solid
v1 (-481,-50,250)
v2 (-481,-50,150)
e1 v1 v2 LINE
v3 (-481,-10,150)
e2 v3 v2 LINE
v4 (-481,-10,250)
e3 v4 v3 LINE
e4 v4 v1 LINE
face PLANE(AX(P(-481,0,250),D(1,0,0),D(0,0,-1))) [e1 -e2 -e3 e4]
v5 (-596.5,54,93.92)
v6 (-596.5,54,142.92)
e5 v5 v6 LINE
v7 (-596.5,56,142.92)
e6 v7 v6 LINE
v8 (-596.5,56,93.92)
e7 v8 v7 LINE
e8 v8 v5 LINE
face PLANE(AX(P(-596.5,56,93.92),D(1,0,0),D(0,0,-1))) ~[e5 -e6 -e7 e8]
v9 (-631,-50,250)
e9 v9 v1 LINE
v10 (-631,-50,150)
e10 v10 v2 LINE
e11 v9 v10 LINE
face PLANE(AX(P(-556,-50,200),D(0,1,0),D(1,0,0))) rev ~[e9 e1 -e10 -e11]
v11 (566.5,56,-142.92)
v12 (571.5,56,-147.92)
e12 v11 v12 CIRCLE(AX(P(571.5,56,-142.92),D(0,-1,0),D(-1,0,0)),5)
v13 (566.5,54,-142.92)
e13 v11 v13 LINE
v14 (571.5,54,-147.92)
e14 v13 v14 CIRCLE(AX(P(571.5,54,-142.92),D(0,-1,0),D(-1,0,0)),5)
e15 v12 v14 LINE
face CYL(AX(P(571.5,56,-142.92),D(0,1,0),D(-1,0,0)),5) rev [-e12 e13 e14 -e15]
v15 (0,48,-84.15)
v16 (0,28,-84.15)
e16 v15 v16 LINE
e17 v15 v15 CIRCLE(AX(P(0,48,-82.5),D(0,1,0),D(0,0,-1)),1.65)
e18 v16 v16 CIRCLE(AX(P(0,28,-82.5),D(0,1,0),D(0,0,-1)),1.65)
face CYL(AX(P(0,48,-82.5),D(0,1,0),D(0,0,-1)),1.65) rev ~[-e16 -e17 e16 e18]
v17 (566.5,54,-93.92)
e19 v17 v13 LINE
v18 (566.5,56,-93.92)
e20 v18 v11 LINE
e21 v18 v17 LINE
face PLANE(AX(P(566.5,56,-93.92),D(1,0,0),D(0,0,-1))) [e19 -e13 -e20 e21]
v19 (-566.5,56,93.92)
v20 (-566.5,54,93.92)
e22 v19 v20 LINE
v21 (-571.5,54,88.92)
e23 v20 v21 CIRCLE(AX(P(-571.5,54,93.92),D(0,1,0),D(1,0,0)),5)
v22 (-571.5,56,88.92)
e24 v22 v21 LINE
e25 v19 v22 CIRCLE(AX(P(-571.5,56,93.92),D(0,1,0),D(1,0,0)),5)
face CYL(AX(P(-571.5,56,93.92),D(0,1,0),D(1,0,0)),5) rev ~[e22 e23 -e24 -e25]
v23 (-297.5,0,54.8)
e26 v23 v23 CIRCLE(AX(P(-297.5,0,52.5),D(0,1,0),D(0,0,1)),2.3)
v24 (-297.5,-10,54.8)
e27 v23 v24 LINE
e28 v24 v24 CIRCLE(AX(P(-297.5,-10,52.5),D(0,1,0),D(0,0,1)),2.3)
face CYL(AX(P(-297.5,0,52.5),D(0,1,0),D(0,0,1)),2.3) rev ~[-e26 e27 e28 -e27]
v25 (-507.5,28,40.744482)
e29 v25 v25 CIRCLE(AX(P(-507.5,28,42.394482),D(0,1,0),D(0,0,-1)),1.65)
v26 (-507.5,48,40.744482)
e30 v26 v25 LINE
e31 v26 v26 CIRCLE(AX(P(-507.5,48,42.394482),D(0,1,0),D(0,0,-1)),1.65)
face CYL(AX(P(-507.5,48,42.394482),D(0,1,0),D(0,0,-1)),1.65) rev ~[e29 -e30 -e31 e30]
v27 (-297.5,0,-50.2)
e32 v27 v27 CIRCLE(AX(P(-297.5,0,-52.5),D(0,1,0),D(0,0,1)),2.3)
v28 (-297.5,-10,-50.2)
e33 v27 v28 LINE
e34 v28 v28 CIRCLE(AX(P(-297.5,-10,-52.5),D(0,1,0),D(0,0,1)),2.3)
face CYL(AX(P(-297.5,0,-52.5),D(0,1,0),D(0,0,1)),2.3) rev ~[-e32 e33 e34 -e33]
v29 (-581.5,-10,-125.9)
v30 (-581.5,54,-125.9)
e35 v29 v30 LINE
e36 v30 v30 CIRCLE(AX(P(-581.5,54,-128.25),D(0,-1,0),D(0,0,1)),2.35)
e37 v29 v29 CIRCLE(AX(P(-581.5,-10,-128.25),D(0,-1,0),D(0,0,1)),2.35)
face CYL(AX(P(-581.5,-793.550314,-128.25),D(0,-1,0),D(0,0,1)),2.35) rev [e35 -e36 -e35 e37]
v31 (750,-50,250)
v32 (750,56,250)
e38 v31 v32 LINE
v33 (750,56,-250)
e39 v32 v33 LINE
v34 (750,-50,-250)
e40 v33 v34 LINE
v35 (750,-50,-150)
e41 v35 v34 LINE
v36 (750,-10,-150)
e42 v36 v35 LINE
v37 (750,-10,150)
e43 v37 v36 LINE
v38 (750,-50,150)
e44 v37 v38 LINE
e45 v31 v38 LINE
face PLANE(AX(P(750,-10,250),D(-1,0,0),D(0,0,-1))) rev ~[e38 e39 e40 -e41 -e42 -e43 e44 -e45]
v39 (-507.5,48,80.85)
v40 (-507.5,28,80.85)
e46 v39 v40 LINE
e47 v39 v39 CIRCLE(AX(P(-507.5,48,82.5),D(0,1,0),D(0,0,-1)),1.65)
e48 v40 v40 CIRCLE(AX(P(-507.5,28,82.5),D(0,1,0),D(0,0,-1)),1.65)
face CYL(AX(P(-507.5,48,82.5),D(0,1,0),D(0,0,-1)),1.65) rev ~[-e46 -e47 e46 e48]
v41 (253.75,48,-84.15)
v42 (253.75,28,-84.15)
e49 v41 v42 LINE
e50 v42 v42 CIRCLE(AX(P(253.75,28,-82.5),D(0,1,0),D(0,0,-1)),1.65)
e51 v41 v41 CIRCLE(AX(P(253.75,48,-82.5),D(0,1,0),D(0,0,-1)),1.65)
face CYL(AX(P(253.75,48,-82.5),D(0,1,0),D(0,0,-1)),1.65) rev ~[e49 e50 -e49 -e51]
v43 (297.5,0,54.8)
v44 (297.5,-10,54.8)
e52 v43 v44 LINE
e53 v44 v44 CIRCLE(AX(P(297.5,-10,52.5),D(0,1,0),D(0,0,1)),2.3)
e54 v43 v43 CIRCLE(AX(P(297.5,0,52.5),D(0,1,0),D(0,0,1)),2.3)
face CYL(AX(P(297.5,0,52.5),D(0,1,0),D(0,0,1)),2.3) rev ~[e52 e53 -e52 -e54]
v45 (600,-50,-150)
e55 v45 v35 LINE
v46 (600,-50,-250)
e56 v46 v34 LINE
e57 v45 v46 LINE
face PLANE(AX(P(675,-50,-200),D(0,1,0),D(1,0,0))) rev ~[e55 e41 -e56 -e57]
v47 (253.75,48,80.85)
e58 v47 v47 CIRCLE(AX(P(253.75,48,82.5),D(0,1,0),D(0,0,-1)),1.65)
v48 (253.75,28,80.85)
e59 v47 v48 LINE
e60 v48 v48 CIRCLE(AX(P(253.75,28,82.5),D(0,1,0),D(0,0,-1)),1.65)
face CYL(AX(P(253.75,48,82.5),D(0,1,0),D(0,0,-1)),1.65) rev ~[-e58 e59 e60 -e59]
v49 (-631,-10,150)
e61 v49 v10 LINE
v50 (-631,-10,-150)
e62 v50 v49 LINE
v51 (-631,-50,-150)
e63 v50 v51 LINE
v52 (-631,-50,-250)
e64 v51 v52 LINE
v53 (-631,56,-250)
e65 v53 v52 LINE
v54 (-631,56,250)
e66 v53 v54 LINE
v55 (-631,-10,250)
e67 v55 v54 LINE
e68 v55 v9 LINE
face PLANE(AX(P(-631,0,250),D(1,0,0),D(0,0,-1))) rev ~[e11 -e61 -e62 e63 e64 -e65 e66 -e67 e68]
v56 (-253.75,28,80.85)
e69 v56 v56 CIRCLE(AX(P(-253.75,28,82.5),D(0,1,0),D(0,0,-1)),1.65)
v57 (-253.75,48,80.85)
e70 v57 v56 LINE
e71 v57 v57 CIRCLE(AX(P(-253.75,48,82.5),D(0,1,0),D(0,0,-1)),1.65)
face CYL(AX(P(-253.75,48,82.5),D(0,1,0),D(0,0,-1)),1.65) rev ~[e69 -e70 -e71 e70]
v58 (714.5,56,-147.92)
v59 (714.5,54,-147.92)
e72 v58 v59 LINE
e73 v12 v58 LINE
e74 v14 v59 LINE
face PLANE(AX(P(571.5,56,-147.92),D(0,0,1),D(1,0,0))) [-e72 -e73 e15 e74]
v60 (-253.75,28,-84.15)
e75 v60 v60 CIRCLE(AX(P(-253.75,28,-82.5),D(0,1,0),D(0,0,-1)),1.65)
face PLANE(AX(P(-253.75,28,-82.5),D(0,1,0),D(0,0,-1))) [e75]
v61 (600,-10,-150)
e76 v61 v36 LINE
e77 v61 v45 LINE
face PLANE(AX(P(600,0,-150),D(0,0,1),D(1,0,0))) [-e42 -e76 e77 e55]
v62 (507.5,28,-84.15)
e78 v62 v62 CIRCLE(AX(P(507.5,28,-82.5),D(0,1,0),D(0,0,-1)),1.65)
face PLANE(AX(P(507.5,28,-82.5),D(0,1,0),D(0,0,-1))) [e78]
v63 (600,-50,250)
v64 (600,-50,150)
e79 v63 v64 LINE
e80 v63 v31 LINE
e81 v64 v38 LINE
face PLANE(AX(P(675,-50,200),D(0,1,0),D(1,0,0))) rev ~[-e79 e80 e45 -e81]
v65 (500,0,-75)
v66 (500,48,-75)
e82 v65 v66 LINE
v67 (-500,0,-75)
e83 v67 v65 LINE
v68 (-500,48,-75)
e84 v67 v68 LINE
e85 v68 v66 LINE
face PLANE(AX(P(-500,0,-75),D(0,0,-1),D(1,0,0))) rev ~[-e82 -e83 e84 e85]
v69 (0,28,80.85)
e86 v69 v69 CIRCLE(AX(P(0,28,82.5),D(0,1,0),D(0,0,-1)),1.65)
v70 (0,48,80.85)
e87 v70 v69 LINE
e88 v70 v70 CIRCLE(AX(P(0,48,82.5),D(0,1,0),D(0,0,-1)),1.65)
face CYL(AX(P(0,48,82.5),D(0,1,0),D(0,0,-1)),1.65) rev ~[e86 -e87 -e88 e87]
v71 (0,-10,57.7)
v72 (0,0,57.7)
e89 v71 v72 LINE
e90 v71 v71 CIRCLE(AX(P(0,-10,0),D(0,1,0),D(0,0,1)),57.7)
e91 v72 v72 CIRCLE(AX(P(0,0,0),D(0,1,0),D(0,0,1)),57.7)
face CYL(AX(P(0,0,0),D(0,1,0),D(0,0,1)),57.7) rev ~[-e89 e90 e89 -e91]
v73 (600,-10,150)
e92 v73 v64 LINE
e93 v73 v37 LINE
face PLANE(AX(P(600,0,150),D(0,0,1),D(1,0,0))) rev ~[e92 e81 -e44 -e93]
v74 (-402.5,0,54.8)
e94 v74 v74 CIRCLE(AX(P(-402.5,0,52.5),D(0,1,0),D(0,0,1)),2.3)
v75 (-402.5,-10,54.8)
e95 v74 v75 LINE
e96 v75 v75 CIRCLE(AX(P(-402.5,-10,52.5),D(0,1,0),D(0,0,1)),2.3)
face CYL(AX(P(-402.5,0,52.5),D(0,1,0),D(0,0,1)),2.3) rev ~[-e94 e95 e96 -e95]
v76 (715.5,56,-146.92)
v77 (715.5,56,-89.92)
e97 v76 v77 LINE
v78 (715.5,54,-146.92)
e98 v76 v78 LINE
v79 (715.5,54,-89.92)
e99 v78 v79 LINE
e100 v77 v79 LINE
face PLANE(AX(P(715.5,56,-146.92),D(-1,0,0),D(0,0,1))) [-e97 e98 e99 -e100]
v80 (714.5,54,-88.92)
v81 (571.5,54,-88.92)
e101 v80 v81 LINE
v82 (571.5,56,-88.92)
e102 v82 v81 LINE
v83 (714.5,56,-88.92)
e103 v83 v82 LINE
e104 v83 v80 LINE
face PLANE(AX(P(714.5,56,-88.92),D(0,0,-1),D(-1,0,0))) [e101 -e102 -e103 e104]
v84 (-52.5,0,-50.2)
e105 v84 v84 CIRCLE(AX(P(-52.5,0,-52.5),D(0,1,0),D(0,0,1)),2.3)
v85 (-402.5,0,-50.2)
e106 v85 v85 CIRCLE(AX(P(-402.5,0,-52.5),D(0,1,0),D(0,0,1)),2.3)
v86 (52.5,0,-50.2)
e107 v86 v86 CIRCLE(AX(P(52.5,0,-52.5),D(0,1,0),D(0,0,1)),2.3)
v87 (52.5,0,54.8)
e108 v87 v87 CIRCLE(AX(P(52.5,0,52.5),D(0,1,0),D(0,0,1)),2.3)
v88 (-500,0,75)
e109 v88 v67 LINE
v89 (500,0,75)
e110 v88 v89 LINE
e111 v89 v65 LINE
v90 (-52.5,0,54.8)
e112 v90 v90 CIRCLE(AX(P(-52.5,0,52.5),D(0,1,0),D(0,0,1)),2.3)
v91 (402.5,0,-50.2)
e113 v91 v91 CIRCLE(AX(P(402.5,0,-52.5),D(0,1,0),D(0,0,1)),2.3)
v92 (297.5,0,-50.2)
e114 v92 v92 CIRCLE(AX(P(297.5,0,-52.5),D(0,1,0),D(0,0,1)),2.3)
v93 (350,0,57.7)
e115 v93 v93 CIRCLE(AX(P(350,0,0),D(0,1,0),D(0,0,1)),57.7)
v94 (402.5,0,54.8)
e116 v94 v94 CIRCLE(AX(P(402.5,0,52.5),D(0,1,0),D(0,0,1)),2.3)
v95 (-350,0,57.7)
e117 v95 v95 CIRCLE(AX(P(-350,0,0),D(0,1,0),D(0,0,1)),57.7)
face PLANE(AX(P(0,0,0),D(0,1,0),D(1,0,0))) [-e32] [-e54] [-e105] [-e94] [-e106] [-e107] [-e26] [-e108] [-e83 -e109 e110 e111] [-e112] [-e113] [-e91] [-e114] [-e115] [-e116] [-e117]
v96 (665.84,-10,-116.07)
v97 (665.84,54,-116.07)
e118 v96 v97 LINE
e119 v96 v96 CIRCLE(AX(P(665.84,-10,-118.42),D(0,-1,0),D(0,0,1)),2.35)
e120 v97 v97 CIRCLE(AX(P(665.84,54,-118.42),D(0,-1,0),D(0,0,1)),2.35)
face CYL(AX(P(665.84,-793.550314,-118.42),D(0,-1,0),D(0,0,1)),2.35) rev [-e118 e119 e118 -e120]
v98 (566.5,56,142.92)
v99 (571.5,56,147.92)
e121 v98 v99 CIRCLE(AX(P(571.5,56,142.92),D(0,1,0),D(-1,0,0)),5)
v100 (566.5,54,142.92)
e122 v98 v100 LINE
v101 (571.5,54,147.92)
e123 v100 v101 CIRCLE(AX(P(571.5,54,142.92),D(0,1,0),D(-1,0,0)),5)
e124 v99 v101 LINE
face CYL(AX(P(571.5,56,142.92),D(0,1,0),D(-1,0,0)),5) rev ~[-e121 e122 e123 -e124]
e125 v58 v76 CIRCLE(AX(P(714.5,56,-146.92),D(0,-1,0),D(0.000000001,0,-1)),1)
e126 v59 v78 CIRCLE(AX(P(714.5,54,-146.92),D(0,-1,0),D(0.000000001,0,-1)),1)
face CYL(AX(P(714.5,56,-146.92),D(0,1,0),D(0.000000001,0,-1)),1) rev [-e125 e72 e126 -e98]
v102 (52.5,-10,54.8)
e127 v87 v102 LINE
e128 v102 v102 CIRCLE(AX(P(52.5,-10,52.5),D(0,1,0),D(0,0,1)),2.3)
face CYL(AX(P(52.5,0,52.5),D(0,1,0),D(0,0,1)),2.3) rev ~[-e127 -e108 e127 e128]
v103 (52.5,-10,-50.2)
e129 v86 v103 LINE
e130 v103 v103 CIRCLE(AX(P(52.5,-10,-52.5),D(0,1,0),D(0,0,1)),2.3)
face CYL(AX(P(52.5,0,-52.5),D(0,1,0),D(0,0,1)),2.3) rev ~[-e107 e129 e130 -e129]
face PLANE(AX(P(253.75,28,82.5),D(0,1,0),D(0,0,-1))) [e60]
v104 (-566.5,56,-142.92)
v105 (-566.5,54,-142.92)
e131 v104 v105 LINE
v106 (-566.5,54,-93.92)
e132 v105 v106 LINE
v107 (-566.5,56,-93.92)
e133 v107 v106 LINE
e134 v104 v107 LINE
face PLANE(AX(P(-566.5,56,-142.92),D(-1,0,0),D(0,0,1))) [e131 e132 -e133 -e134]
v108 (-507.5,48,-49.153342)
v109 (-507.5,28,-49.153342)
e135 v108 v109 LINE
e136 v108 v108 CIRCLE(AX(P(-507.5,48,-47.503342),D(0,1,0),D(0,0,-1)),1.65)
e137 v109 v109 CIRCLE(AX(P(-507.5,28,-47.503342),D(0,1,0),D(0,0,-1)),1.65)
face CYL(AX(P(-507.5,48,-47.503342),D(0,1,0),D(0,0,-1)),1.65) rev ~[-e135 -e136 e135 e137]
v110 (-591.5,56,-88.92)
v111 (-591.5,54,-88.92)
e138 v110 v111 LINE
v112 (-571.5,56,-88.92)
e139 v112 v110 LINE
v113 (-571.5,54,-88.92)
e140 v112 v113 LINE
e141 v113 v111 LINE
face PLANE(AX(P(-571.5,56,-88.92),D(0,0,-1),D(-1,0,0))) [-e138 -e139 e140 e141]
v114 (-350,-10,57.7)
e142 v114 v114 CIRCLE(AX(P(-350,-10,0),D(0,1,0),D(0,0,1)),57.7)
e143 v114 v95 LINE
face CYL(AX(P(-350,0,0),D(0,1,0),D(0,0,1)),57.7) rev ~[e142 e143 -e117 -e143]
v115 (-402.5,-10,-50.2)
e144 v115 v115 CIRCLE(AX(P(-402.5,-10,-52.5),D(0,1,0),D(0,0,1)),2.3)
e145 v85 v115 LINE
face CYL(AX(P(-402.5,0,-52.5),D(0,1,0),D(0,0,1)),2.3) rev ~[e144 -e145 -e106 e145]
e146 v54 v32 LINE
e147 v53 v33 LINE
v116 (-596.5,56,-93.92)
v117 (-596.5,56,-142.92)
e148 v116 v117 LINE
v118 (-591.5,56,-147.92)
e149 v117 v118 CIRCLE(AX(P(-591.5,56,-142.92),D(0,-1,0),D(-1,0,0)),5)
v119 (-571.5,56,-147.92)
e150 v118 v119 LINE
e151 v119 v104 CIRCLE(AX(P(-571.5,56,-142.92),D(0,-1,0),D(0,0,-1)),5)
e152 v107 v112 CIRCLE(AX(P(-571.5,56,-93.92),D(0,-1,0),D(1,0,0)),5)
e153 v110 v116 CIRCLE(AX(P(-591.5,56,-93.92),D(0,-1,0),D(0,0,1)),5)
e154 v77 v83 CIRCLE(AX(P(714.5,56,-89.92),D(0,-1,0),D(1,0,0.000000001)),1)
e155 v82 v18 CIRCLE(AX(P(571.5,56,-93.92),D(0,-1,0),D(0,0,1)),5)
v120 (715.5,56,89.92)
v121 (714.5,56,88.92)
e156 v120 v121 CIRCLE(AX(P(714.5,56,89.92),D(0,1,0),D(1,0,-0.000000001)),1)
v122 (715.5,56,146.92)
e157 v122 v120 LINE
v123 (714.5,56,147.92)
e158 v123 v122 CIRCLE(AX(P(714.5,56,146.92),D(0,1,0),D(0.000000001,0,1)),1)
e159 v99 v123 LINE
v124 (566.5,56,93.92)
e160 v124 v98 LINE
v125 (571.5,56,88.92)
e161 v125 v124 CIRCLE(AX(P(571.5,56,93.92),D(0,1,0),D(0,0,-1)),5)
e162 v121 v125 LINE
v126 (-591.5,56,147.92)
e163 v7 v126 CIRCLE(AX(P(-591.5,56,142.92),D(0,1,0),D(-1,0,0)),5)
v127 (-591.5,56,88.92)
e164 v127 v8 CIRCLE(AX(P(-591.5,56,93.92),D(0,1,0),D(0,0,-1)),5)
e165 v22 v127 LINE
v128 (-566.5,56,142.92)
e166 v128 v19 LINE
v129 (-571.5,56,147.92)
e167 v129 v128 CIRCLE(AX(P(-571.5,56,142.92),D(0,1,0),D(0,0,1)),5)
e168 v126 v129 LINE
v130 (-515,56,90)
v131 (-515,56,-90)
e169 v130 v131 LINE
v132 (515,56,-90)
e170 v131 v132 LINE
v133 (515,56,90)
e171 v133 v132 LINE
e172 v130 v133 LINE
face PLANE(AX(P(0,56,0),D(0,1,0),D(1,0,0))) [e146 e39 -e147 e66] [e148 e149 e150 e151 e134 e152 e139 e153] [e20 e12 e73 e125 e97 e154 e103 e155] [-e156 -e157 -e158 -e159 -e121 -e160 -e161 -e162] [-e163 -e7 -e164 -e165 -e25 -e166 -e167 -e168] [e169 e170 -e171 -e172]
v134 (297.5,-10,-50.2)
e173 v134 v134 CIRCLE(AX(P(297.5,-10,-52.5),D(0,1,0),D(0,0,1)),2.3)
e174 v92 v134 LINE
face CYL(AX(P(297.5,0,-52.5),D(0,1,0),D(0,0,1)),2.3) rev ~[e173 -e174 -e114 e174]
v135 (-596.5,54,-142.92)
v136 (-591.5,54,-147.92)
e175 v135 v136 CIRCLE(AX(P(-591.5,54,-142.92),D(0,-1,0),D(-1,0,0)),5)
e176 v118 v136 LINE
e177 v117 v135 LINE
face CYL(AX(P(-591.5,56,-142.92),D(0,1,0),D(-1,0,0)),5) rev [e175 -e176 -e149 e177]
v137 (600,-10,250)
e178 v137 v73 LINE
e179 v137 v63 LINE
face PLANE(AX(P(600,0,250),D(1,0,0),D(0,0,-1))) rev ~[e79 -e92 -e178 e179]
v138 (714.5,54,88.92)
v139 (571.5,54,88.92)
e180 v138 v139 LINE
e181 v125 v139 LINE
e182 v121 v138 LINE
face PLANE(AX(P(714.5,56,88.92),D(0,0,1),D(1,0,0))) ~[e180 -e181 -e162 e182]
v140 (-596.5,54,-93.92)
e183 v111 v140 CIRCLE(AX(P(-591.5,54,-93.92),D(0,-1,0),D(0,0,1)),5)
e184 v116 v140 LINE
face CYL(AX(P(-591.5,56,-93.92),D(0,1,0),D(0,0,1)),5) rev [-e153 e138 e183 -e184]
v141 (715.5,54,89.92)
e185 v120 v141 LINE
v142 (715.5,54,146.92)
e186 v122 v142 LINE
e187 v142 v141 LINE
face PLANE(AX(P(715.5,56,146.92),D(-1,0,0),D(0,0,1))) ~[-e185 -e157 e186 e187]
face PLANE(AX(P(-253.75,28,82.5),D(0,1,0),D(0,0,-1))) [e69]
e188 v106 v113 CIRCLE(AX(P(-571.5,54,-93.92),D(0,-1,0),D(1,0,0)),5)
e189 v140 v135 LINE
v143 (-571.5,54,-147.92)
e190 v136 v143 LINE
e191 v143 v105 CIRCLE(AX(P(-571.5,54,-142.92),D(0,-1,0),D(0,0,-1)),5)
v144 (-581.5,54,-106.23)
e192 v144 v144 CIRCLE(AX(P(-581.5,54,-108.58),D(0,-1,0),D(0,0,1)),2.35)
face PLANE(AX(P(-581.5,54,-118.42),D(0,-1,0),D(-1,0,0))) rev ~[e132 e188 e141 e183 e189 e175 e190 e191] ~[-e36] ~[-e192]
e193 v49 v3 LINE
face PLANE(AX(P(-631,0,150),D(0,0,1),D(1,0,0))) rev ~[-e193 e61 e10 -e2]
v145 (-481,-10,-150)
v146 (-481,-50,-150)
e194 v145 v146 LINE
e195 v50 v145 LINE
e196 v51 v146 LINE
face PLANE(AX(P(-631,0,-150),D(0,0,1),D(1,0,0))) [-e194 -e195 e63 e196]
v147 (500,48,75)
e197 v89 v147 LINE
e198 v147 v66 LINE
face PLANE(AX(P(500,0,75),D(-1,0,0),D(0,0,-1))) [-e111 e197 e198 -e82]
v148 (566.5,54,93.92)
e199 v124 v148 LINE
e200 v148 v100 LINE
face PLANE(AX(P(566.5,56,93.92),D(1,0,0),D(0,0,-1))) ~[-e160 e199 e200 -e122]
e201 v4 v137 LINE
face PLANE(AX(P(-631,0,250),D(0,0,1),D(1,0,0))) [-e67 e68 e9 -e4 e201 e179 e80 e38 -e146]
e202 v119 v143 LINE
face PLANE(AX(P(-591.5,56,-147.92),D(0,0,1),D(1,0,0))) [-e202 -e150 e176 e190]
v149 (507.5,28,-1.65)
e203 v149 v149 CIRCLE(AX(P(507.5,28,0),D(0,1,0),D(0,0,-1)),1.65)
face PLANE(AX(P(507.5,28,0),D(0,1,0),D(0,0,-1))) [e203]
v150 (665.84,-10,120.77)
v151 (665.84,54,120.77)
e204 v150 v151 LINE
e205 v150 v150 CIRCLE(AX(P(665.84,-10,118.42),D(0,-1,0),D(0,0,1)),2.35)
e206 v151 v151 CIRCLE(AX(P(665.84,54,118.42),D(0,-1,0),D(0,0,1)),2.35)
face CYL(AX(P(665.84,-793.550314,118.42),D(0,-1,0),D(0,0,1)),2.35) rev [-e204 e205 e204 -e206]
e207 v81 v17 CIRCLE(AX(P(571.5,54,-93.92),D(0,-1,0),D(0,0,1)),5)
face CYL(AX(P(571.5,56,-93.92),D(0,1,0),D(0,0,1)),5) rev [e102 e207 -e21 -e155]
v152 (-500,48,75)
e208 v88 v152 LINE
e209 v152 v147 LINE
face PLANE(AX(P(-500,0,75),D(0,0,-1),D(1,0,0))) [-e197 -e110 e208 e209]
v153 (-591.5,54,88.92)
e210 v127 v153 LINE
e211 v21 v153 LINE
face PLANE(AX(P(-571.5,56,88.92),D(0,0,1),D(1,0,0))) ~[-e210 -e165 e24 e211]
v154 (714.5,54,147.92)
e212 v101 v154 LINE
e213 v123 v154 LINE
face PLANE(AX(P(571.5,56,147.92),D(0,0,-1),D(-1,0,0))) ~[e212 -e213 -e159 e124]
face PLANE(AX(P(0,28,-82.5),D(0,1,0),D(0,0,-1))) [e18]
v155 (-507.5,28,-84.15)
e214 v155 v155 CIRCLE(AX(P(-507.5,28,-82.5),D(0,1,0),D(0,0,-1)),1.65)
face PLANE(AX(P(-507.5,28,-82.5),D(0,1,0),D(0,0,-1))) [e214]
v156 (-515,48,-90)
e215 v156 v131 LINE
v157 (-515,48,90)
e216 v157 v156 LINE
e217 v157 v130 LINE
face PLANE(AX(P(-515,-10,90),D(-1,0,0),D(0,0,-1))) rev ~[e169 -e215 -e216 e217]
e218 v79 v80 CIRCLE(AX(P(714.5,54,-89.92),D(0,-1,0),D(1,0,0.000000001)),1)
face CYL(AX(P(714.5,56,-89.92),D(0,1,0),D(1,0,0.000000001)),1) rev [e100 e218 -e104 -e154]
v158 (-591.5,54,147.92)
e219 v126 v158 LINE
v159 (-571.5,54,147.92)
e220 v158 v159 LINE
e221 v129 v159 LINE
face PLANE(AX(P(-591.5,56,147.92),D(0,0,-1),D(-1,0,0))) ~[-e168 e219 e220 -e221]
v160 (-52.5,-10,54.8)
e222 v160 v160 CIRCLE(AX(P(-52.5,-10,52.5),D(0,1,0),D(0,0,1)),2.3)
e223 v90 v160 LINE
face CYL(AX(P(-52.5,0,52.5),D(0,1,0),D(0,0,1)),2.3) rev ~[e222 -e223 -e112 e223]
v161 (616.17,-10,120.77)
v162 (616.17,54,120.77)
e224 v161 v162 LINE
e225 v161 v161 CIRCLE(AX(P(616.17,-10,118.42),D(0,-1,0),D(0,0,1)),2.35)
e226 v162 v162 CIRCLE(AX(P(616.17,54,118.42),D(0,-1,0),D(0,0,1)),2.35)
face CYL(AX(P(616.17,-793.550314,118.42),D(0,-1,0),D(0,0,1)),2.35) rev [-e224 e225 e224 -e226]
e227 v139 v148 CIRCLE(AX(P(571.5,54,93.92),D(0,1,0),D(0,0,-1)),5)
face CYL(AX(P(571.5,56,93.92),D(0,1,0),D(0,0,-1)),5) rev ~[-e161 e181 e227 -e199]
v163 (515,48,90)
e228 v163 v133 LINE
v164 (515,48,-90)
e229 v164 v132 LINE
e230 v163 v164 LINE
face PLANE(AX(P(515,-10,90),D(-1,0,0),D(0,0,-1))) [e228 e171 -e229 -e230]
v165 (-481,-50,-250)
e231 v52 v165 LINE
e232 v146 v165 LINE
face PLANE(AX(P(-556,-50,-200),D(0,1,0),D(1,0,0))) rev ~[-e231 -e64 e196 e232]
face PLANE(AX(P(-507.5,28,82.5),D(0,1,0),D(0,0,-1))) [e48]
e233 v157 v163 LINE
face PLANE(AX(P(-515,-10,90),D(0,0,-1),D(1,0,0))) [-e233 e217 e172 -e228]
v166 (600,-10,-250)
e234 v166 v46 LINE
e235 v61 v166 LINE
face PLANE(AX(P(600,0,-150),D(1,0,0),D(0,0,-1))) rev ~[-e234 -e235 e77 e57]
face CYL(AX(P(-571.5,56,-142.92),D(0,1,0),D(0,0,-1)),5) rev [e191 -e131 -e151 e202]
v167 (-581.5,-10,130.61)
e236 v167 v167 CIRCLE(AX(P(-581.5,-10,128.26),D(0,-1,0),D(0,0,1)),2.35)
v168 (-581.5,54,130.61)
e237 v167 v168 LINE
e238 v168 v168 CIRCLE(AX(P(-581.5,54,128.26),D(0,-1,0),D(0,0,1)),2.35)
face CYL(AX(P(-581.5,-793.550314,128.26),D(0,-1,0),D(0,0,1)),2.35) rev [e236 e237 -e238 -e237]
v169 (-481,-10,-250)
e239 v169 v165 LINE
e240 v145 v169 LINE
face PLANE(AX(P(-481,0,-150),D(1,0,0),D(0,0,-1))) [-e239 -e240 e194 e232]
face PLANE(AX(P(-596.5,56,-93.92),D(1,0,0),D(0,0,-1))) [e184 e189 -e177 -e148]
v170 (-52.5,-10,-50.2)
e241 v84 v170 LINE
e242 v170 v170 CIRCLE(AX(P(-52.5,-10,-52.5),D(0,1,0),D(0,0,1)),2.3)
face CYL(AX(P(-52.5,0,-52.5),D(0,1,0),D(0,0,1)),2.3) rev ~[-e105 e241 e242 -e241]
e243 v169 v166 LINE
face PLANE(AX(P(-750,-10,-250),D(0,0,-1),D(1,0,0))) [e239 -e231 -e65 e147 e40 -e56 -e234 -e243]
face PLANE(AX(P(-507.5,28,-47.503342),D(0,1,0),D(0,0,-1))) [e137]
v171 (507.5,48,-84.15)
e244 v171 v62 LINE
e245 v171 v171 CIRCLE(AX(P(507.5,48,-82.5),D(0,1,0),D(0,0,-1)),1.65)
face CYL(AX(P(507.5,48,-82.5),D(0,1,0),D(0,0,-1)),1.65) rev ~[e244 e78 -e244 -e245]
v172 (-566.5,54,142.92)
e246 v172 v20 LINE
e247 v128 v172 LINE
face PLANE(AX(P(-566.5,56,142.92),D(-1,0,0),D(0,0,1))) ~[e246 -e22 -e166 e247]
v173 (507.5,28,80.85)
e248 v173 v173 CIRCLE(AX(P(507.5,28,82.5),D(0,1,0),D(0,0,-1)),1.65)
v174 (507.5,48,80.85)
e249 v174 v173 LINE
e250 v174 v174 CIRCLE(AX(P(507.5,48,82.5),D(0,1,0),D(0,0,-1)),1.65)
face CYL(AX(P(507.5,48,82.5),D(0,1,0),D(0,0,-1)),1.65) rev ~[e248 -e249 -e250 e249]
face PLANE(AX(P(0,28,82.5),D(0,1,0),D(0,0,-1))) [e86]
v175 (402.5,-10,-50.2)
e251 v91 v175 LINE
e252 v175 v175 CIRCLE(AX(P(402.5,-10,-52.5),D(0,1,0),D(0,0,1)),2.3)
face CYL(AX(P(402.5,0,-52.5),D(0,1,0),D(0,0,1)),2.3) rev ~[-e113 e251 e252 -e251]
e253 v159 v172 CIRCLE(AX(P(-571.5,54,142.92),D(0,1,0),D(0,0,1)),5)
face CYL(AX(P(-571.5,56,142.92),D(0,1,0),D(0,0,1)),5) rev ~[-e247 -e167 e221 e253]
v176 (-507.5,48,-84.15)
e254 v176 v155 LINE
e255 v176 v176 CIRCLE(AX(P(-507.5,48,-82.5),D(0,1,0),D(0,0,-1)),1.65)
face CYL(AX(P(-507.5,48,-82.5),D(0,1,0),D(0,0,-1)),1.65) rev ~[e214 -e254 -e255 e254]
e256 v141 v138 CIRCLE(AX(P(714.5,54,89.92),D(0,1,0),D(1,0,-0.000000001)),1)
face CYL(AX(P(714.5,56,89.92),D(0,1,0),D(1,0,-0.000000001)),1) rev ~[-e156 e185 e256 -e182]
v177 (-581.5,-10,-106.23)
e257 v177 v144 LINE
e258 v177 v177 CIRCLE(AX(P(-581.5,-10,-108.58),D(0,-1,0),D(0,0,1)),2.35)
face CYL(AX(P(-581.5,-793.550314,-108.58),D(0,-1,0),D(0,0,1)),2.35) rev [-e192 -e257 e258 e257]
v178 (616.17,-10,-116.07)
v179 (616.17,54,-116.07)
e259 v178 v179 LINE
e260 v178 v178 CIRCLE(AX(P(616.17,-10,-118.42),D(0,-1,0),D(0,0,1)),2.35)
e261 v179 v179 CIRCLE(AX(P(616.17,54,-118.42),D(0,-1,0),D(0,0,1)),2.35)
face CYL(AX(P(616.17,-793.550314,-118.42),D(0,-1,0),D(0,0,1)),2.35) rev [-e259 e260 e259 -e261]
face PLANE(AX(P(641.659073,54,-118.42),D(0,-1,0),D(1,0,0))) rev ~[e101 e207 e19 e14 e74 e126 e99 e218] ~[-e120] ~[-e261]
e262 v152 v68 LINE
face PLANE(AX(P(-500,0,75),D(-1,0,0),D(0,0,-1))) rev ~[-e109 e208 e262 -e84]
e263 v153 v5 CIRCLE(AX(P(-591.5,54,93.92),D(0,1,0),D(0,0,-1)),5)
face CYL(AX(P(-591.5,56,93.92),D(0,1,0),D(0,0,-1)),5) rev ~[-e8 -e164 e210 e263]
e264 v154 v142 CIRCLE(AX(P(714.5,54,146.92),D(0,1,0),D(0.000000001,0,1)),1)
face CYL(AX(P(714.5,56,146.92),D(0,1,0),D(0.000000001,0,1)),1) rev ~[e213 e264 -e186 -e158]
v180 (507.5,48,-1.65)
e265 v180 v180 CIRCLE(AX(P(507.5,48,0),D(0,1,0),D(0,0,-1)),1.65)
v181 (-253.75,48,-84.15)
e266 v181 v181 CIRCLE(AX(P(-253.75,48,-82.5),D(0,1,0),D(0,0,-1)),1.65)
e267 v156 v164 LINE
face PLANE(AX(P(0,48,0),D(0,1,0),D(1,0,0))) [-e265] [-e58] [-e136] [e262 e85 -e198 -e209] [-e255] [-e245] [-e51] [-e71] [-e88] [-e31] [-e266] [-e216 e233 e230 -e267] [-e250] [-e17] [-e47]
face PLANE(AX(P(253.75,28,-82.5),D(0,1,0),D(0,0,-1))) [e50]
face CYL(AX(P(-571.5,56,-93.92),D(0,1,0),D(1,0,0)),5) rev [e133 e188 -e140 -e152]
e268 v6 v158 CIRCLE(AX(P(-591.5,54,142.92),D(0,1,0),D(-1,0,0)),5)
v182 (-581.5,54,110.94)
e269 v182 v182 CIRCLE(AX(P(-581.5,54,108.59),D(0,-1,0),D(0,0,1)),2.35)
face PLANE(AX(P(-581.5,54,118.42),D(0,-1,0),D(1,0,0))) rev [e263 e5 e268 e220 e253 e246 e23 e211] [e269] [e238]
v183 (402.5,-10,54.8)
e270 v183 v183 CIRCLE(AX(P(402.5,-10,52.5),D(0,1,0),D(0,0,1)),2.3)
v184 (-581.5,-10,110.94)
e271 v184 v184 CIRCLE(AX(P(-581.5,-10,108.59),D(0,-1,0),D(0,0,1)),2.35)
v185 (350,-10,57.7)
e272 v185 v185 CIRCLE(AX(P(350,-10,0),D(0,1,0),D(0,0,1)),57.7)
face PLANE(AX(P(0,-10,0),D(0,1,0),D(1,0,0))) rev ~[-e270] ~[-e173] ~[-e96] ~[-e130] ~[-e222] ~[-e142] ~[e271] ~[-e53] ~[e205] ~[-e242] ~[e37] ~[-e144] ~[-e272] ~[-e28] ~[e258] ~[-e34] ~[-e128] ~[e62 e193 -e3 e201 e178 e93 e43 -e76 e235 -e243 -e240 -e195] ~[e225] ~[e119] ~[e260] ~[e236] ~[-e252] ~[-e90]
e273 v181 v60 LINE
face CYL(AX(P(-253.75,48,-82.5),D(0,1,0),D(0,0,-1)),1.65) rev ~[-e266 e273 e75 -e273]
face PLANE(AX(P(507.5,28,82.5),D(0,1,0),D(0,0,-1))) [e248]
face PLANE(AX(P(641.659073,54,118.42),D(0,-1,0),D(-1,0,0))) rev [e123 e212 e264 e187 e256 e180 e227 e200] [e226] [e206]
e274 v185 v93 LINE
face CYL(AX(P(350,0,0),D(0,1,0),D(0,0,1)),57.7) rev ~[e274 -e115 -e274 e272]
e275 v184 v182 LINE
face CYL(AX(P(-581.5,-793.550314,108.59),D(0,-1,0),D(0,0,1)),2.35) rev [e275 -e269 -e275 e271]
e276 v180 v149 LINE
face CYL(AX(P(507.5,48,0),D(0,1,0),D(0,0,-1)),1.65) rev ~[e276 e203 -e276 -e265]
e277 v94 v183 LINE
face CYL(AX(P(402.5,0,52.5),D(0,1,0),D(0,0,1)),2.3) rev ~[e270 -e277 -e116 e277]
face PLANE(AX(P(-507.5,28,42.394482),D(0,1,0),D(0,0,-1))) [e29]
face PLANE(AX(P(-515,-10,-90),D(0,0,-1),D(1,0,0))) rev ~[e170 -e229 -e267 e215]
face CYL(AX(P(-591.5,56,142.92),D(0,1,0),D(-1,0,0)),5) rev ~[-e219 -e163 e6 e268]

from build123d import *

# Parameters (mm, degrees)
SKETCH19_W               = 1030
SKETCH19_H               = 180
SKETCH19_W_2             = 1000
SKETCH19_H_2             = 150
BOSS_EXTRUDE2_DEPTH      = 48
SKETCH22_W               = 1030
SKETCH22_H               = 180
BOSS_EXTRUDE3_DEPTH      = 10
BOSS_EXTRUDE4_DEPTH      = 56
BOSS_EXTRUDE4_DEPTH_BACK = 10
SKETCH23_W               = 1500
SKETCH23_H               = 500
SKETCH23_W_2             = 1030
SKETCH23_H_2             = 180
CUT_EXTRUDE6_START       = 48
SKETCH26_R               = 1.65
CUT_EXTRUDE6_DEPTH       = 20
LPATTERN1_COUNT          = 5
LPATTERN1_PITCH          = 253.75
SKETCH28_R               = 2.3
SKETCH28_R_2             = 57.7
CUT_EXTRUDE7_DEPTH       = 793.55031386
LPATTERN2_COUNT          = 2
LPATTERN2_PITCH          = 350
LPATTERN2_COL_COUNT      = 2
LPATTERN2_COL_PITCH      = 350
CUT_EXTRUDE8_START       = 48
SKETCH27_R               = 1.65
CUT_EXTRUDE8_DEPTH       = 20
CUT_EXTRUDE9_START       = -56
CUT_EXTRUDE9_DEPTH       = 2
CUT_EXTRUDE10_START      = 56
CUT_EXTRUDE10_DEPTH      = 2
CUT_EXTRUDE11_DEPTH      = 793.55031386
CUT_EXTRUDE11_DEPTH_BACK = 793.55031386
SKETCH33_R               = 2.35
CUT_EXTRUDE12_DEPTH      = 793.55031386
CUT_EXTRUDE12_DEPTH_BACK = 793.55031386
SKETCH34_W               = 190.830831748
SKETCH34_H               = 540.530008981
SKETCH29_W               = 150
SKETCH29_H               = 100
BOSS_EXTRUDE5_DEPTH      = 50


with BuildPart() as part:
    # Sketch19 → Boss-Extrude2 (new body)
    with BuildSketch(Plane(origin=(0, 0, 0), x_dir=(1, 0, 0), z_dir=(0, 1, 0))):
        Rectangle(SKETCH19_W, SKETCH19_H)
        Rectangle(SKETCH19_W_2, SKETCH19_H_2, mode=Mode.SUBTRACT)
    extrude(amount=BOSS_EXTRUDE2_DEPTH)

    # Sketch22 → Boss-Extrude3 (add)
    with BuildSketch(Plane(origin=(0, 0, 0), x_dir=(1, 0, 0), z_dir=(0, 1, 0))):
        Rectangle(SKETCH22_W, SKETCH22_H)
    extrude(amount=-BOSS_EXTRUDE3_DEPTH)

    # Sketch23 → Boss-Extrude4 (add, two sides: drawn at the far end of the back side and taken through both)
    with BuildSketch(Plane(origin=(0, 0, 0), x_dir=(1, 0, 0), z_dir=(0, 1, 0)).offset(-BOSS_EXTRUDE4_DEPTH_BACK)):
        Rectangle(SKETCH23_W, SKETCH23_H)
        Rectangle(SKETCH23_W_2, SKETCH23_H_2, mode=Mode.SUBTRACT)
    extrude(amount=BOSS_EXTRUDE4_DEPTH + BOSS_EXTRUDE4_DEPTH_BACK)

    # Sketch26 → Cut-Extrude6 (cut)
    with BuildSketch(Plane(origin=(0, 0, 0), x_dir=(1, 0, 0), z_dir=(0, 1, 0)).offset(CUT_EXTRUDE6_START)):
        with Locations(Location((-507.5, -82.5, 0), (0, 0, 90))):
            Circle(SKETCH26_R)
        with Locations(Location((-507.5, 82.5, 0), (0, 0, 90))):
            Circle(SKETCH26_R)
    cut_extrude6 = extrude(amount=-CUT_EXTRUDE6_DEPTH, mode=Mode.SUBTRACT)

    # LPattern1: Cut-Extrude6 ×5
    with Locations(*[(i * LPATTERN1_PITCH, 0, 0) for i in range(1, LPATTERN1_COUNT)]):
        add(cut_extrude6, mode=Mode.SUBTRACT)

    # Sketch28 → Cut-Extrude7 (cut, symmetric)
    with BuildSketch(Plane(origin=(0, 0, 0), x_dir=(1, 0, 0), z_dir=(0, 1, 0))):
        with Locations(Location((-52.5, 52.5, 0), (0, 0, 270))):
            Circle(SKETCH28_R)
        with Locations(Location((52.5, 52.5, 0), (0, 0, 270))):
            Circle(SKETCH28_R)
        with Locations(Location((52.5, -52.5, 0), (0, 0, 270))):
            Circle(SKETCH28_R)
        with Locations(Location((-52.5, -52.5, 0), (0, 0, 270))):
            Circle(SKETCH28_R)
        with Locations(Location((0, 0, 0), (0, 0, 270))):
            Circle(SKETCH28_R_2)
    cut_extrude7 = extrude(amount=CUT_EXTRUDE7_DEPTH, both=True, mode=Mode.SUBTRACT)

    # LPattern2: Cut-Extrude7 ×2
    with Locations(*[(-i * LPATTERN2_PITCH, 0, 0) for i in range(1, LPATTERN2_COUNT)]):
        add(cut_extrude7, mode=Mode.SUBTRACT)

    # LPattern2 col: Cut-Extrude7 ×2
    with Locations(*[(i * LPATTERN2_COL_PITCH, 0, 0) for i in range(1, LPATTERN2_COL_COUNT)]):
        add(cut_extrude7, mode=Mode.SUBTRACT)

    # Sketch27 → Cut-Extrude8 (cut)
    with BuildSketch(Plane(origin=(0, 0, 0), x_dir=(1, 0, 0), z_dir=(0, 1, 0)).offset(CUT_EXTRUDE8_START)):
        with Locations(Location((507.5, 0, 0), (0, 0, 90))):
            Circle(SKETCH27_R)
        with Locations(Location((-507.5, 47.503341606, 0), (0, 0, 90))):
            Circle(SKETCH27_R)
        with Locations(Location((-507.5, -42.394481769, 0), (0, 0, 90))):
            Circle(SKETCH27_R)
    extrude(amount=-CUT_EXTRUDE8_DEPTH, mode=Mode.SUBTRACT)

    # Sketch30 → Cut-Extrude9 (cut)
    with BuildSketch(Plane.XZ.offset(CUT_EXTRUDE9_START)):
        with BuildLine():
            Line((571.5, -147.92), (714.5, -147.92))
            ThreePointArc((714.5, -147.92), (715.207106781, -147.627106781), (715.5, -146.92))
            Line((715.5, -146.92), (715.5, -89.92))
            ThreePointArc((715.5, -89.92), (715.207106781, -89.212893219), (714.5, -88.92))
            Line((714.5, -88.92), (571.5, -88.92))
            ThreePointArc((571.5, -88.92), (567.964466094, -90.384466094), (566.5, -93.92))
            Line((566.5, -93.92), (566.5, -142.92))
            ThreePointArc((566.5, -142.92), (567.964466094, -146.455533906), (571.5, -147.92))
        make_face()
    cut_extrude9 = extrude(amount=CUT_EXTRUDE9_DEPTH, mode=Mode.SUBTRACT)

    # Mirror1: Cut-Extrude9 across plane
    add(cut_extrude9.mirror(Plane.XY), mode=Mode.SUBTRACT)

    # Sketch32 → Cut-Extrude10 (cut)
    with BuildSketch(Plane(origin=(0, 0, 0), x_dir=(1, 0, 0), z_dir=(0, 1, 0)).offset(CUT_EXTRUDE10_START)):
        with BuildLine():
            Line((-591.5, 147.92), (-571.5, 147.92))
            ThreePointArc((-571.5, 147.92), (-567.964466094, 146.455533906), (-566.5, 142.92))
            Line((-566.5, 142.92), (-566.5, 93.92))
            ThreePointArc((-566.5, 93.92), (-567.964466094, 90.384466094), (-571.5, 88.92))
            Line((-571.5, 88.92), (-591.5, 88.92))
            ThreePointArc((-591.5, 88.92), (-595.035533906, 90.384466094), (-596.5, 93.92))
            Line((-596.5, 93.92), (-596.5, 142.92))
            ThreePointArc((-596.5, 142.92), (-595.035533906, 146.455533906), (-591.5, 147.92))
        make_face()
    cut_extrude10 = extrude(amount=-CUT_EXTRUDE10_DEPTH, mode=Mode.SUBTRACT)

    # Mirror2: Cut-Extrude10 across plane
    add(cut_extrude10.mirror(Plane.XY), mode=Mode.SUBTRACT)

    # Sketch33 → Cut-Extrude11 (cut, two sides: drawn at the far end of the back side and taken through both)
    with BuildSketch(Plane(origin=(0, 0, 0), x_dir=(1, 0, 0), z_dir=(0, 1, 0)).offset(-CUT_EXTRUDE11_DEPTH_BACK)):
        with Locations(Location((-581.5, 108.58, 0), (0, 0, 270))):
            Circle(SKETCH33_R)
        with Locations(Location((-581.5, -108.59, 0), (0, 0, 270))):
            Circle(SKETCH33_R)
        with Locations(Location((-581.5, 128.25, 0), (0, 0, 270))):
            Circle(SKETCH33_R)
        with Locations(Location((-581.5, -128.26, 0), (0, 0, 270))):
            Circle(SKETCH33_R)
        with Locations(Location((616.17, -118.42, 0), (0, 0, 270))):
            Circle(SKETCH33_R)
        with Locations(Location((665.84, -118.42, 0), (0, 0, 270))):
            Circle(SKETCH33_R)
        with Locations(Location((616.17, 118.42, 0), (0, 0, 270))):
            Circle(SKETCH33_R)
        with Locations(Location((665.84, 118.42, 0), (0, 0, 270))):
            Circle(SKETCH33_R)
    extrude(amount=CUT_EXTRUDE11_DEPTH + CUT_EXTRUDE11_DEPTH_BACK, mode=Mode.SUBTRACT)

    # Sketch34 → Cut-Extrude12 (cut, two sides: drawn at the far end of the back side and taken through both)
    with BuildSketch(Plane(origin=(0, 0, 0), x_dir=(1, 0, 0), z_dir=(0, 1, 0)).offset(-CUT_EXTRUDE12_DEPTH_BACK)):
        with Locations((-726.415415874, 20.265004491)):
            Rectangle(SKETCH34_W, SKETCH34_H)
    extrude(amount=CUT_EXTRUDE12_DEPTH + CUT_EXTRUDE12_DEPTH_BACK, mode=Mode.SUBTRACT)

    # Sketch29 → Boss-Extrude5 (add)
    with BuildSketch(Plane(origin=(0, 0, 0), x_dir=(1, 0, 0), z_dir=(0, 1, 0))):
        with Locations((-556, -200)):
            Rectangle(SKETCH29_W, SKETCH29_H)
        with Locations((-556, 200)):
            Rectangle(SKETCH29_W, SKETCH29_H)
        with Locations((675, -200)):
            Rectangle(SKETCH29_W, SKETCH29_H)
        with Locations((675, 200)):
            Rectangle(SKETCH29_W, SKETCH29_H)
    extrude(amount=-BOSS_EXTRUDE5_DEPTH)


solid = part.part
